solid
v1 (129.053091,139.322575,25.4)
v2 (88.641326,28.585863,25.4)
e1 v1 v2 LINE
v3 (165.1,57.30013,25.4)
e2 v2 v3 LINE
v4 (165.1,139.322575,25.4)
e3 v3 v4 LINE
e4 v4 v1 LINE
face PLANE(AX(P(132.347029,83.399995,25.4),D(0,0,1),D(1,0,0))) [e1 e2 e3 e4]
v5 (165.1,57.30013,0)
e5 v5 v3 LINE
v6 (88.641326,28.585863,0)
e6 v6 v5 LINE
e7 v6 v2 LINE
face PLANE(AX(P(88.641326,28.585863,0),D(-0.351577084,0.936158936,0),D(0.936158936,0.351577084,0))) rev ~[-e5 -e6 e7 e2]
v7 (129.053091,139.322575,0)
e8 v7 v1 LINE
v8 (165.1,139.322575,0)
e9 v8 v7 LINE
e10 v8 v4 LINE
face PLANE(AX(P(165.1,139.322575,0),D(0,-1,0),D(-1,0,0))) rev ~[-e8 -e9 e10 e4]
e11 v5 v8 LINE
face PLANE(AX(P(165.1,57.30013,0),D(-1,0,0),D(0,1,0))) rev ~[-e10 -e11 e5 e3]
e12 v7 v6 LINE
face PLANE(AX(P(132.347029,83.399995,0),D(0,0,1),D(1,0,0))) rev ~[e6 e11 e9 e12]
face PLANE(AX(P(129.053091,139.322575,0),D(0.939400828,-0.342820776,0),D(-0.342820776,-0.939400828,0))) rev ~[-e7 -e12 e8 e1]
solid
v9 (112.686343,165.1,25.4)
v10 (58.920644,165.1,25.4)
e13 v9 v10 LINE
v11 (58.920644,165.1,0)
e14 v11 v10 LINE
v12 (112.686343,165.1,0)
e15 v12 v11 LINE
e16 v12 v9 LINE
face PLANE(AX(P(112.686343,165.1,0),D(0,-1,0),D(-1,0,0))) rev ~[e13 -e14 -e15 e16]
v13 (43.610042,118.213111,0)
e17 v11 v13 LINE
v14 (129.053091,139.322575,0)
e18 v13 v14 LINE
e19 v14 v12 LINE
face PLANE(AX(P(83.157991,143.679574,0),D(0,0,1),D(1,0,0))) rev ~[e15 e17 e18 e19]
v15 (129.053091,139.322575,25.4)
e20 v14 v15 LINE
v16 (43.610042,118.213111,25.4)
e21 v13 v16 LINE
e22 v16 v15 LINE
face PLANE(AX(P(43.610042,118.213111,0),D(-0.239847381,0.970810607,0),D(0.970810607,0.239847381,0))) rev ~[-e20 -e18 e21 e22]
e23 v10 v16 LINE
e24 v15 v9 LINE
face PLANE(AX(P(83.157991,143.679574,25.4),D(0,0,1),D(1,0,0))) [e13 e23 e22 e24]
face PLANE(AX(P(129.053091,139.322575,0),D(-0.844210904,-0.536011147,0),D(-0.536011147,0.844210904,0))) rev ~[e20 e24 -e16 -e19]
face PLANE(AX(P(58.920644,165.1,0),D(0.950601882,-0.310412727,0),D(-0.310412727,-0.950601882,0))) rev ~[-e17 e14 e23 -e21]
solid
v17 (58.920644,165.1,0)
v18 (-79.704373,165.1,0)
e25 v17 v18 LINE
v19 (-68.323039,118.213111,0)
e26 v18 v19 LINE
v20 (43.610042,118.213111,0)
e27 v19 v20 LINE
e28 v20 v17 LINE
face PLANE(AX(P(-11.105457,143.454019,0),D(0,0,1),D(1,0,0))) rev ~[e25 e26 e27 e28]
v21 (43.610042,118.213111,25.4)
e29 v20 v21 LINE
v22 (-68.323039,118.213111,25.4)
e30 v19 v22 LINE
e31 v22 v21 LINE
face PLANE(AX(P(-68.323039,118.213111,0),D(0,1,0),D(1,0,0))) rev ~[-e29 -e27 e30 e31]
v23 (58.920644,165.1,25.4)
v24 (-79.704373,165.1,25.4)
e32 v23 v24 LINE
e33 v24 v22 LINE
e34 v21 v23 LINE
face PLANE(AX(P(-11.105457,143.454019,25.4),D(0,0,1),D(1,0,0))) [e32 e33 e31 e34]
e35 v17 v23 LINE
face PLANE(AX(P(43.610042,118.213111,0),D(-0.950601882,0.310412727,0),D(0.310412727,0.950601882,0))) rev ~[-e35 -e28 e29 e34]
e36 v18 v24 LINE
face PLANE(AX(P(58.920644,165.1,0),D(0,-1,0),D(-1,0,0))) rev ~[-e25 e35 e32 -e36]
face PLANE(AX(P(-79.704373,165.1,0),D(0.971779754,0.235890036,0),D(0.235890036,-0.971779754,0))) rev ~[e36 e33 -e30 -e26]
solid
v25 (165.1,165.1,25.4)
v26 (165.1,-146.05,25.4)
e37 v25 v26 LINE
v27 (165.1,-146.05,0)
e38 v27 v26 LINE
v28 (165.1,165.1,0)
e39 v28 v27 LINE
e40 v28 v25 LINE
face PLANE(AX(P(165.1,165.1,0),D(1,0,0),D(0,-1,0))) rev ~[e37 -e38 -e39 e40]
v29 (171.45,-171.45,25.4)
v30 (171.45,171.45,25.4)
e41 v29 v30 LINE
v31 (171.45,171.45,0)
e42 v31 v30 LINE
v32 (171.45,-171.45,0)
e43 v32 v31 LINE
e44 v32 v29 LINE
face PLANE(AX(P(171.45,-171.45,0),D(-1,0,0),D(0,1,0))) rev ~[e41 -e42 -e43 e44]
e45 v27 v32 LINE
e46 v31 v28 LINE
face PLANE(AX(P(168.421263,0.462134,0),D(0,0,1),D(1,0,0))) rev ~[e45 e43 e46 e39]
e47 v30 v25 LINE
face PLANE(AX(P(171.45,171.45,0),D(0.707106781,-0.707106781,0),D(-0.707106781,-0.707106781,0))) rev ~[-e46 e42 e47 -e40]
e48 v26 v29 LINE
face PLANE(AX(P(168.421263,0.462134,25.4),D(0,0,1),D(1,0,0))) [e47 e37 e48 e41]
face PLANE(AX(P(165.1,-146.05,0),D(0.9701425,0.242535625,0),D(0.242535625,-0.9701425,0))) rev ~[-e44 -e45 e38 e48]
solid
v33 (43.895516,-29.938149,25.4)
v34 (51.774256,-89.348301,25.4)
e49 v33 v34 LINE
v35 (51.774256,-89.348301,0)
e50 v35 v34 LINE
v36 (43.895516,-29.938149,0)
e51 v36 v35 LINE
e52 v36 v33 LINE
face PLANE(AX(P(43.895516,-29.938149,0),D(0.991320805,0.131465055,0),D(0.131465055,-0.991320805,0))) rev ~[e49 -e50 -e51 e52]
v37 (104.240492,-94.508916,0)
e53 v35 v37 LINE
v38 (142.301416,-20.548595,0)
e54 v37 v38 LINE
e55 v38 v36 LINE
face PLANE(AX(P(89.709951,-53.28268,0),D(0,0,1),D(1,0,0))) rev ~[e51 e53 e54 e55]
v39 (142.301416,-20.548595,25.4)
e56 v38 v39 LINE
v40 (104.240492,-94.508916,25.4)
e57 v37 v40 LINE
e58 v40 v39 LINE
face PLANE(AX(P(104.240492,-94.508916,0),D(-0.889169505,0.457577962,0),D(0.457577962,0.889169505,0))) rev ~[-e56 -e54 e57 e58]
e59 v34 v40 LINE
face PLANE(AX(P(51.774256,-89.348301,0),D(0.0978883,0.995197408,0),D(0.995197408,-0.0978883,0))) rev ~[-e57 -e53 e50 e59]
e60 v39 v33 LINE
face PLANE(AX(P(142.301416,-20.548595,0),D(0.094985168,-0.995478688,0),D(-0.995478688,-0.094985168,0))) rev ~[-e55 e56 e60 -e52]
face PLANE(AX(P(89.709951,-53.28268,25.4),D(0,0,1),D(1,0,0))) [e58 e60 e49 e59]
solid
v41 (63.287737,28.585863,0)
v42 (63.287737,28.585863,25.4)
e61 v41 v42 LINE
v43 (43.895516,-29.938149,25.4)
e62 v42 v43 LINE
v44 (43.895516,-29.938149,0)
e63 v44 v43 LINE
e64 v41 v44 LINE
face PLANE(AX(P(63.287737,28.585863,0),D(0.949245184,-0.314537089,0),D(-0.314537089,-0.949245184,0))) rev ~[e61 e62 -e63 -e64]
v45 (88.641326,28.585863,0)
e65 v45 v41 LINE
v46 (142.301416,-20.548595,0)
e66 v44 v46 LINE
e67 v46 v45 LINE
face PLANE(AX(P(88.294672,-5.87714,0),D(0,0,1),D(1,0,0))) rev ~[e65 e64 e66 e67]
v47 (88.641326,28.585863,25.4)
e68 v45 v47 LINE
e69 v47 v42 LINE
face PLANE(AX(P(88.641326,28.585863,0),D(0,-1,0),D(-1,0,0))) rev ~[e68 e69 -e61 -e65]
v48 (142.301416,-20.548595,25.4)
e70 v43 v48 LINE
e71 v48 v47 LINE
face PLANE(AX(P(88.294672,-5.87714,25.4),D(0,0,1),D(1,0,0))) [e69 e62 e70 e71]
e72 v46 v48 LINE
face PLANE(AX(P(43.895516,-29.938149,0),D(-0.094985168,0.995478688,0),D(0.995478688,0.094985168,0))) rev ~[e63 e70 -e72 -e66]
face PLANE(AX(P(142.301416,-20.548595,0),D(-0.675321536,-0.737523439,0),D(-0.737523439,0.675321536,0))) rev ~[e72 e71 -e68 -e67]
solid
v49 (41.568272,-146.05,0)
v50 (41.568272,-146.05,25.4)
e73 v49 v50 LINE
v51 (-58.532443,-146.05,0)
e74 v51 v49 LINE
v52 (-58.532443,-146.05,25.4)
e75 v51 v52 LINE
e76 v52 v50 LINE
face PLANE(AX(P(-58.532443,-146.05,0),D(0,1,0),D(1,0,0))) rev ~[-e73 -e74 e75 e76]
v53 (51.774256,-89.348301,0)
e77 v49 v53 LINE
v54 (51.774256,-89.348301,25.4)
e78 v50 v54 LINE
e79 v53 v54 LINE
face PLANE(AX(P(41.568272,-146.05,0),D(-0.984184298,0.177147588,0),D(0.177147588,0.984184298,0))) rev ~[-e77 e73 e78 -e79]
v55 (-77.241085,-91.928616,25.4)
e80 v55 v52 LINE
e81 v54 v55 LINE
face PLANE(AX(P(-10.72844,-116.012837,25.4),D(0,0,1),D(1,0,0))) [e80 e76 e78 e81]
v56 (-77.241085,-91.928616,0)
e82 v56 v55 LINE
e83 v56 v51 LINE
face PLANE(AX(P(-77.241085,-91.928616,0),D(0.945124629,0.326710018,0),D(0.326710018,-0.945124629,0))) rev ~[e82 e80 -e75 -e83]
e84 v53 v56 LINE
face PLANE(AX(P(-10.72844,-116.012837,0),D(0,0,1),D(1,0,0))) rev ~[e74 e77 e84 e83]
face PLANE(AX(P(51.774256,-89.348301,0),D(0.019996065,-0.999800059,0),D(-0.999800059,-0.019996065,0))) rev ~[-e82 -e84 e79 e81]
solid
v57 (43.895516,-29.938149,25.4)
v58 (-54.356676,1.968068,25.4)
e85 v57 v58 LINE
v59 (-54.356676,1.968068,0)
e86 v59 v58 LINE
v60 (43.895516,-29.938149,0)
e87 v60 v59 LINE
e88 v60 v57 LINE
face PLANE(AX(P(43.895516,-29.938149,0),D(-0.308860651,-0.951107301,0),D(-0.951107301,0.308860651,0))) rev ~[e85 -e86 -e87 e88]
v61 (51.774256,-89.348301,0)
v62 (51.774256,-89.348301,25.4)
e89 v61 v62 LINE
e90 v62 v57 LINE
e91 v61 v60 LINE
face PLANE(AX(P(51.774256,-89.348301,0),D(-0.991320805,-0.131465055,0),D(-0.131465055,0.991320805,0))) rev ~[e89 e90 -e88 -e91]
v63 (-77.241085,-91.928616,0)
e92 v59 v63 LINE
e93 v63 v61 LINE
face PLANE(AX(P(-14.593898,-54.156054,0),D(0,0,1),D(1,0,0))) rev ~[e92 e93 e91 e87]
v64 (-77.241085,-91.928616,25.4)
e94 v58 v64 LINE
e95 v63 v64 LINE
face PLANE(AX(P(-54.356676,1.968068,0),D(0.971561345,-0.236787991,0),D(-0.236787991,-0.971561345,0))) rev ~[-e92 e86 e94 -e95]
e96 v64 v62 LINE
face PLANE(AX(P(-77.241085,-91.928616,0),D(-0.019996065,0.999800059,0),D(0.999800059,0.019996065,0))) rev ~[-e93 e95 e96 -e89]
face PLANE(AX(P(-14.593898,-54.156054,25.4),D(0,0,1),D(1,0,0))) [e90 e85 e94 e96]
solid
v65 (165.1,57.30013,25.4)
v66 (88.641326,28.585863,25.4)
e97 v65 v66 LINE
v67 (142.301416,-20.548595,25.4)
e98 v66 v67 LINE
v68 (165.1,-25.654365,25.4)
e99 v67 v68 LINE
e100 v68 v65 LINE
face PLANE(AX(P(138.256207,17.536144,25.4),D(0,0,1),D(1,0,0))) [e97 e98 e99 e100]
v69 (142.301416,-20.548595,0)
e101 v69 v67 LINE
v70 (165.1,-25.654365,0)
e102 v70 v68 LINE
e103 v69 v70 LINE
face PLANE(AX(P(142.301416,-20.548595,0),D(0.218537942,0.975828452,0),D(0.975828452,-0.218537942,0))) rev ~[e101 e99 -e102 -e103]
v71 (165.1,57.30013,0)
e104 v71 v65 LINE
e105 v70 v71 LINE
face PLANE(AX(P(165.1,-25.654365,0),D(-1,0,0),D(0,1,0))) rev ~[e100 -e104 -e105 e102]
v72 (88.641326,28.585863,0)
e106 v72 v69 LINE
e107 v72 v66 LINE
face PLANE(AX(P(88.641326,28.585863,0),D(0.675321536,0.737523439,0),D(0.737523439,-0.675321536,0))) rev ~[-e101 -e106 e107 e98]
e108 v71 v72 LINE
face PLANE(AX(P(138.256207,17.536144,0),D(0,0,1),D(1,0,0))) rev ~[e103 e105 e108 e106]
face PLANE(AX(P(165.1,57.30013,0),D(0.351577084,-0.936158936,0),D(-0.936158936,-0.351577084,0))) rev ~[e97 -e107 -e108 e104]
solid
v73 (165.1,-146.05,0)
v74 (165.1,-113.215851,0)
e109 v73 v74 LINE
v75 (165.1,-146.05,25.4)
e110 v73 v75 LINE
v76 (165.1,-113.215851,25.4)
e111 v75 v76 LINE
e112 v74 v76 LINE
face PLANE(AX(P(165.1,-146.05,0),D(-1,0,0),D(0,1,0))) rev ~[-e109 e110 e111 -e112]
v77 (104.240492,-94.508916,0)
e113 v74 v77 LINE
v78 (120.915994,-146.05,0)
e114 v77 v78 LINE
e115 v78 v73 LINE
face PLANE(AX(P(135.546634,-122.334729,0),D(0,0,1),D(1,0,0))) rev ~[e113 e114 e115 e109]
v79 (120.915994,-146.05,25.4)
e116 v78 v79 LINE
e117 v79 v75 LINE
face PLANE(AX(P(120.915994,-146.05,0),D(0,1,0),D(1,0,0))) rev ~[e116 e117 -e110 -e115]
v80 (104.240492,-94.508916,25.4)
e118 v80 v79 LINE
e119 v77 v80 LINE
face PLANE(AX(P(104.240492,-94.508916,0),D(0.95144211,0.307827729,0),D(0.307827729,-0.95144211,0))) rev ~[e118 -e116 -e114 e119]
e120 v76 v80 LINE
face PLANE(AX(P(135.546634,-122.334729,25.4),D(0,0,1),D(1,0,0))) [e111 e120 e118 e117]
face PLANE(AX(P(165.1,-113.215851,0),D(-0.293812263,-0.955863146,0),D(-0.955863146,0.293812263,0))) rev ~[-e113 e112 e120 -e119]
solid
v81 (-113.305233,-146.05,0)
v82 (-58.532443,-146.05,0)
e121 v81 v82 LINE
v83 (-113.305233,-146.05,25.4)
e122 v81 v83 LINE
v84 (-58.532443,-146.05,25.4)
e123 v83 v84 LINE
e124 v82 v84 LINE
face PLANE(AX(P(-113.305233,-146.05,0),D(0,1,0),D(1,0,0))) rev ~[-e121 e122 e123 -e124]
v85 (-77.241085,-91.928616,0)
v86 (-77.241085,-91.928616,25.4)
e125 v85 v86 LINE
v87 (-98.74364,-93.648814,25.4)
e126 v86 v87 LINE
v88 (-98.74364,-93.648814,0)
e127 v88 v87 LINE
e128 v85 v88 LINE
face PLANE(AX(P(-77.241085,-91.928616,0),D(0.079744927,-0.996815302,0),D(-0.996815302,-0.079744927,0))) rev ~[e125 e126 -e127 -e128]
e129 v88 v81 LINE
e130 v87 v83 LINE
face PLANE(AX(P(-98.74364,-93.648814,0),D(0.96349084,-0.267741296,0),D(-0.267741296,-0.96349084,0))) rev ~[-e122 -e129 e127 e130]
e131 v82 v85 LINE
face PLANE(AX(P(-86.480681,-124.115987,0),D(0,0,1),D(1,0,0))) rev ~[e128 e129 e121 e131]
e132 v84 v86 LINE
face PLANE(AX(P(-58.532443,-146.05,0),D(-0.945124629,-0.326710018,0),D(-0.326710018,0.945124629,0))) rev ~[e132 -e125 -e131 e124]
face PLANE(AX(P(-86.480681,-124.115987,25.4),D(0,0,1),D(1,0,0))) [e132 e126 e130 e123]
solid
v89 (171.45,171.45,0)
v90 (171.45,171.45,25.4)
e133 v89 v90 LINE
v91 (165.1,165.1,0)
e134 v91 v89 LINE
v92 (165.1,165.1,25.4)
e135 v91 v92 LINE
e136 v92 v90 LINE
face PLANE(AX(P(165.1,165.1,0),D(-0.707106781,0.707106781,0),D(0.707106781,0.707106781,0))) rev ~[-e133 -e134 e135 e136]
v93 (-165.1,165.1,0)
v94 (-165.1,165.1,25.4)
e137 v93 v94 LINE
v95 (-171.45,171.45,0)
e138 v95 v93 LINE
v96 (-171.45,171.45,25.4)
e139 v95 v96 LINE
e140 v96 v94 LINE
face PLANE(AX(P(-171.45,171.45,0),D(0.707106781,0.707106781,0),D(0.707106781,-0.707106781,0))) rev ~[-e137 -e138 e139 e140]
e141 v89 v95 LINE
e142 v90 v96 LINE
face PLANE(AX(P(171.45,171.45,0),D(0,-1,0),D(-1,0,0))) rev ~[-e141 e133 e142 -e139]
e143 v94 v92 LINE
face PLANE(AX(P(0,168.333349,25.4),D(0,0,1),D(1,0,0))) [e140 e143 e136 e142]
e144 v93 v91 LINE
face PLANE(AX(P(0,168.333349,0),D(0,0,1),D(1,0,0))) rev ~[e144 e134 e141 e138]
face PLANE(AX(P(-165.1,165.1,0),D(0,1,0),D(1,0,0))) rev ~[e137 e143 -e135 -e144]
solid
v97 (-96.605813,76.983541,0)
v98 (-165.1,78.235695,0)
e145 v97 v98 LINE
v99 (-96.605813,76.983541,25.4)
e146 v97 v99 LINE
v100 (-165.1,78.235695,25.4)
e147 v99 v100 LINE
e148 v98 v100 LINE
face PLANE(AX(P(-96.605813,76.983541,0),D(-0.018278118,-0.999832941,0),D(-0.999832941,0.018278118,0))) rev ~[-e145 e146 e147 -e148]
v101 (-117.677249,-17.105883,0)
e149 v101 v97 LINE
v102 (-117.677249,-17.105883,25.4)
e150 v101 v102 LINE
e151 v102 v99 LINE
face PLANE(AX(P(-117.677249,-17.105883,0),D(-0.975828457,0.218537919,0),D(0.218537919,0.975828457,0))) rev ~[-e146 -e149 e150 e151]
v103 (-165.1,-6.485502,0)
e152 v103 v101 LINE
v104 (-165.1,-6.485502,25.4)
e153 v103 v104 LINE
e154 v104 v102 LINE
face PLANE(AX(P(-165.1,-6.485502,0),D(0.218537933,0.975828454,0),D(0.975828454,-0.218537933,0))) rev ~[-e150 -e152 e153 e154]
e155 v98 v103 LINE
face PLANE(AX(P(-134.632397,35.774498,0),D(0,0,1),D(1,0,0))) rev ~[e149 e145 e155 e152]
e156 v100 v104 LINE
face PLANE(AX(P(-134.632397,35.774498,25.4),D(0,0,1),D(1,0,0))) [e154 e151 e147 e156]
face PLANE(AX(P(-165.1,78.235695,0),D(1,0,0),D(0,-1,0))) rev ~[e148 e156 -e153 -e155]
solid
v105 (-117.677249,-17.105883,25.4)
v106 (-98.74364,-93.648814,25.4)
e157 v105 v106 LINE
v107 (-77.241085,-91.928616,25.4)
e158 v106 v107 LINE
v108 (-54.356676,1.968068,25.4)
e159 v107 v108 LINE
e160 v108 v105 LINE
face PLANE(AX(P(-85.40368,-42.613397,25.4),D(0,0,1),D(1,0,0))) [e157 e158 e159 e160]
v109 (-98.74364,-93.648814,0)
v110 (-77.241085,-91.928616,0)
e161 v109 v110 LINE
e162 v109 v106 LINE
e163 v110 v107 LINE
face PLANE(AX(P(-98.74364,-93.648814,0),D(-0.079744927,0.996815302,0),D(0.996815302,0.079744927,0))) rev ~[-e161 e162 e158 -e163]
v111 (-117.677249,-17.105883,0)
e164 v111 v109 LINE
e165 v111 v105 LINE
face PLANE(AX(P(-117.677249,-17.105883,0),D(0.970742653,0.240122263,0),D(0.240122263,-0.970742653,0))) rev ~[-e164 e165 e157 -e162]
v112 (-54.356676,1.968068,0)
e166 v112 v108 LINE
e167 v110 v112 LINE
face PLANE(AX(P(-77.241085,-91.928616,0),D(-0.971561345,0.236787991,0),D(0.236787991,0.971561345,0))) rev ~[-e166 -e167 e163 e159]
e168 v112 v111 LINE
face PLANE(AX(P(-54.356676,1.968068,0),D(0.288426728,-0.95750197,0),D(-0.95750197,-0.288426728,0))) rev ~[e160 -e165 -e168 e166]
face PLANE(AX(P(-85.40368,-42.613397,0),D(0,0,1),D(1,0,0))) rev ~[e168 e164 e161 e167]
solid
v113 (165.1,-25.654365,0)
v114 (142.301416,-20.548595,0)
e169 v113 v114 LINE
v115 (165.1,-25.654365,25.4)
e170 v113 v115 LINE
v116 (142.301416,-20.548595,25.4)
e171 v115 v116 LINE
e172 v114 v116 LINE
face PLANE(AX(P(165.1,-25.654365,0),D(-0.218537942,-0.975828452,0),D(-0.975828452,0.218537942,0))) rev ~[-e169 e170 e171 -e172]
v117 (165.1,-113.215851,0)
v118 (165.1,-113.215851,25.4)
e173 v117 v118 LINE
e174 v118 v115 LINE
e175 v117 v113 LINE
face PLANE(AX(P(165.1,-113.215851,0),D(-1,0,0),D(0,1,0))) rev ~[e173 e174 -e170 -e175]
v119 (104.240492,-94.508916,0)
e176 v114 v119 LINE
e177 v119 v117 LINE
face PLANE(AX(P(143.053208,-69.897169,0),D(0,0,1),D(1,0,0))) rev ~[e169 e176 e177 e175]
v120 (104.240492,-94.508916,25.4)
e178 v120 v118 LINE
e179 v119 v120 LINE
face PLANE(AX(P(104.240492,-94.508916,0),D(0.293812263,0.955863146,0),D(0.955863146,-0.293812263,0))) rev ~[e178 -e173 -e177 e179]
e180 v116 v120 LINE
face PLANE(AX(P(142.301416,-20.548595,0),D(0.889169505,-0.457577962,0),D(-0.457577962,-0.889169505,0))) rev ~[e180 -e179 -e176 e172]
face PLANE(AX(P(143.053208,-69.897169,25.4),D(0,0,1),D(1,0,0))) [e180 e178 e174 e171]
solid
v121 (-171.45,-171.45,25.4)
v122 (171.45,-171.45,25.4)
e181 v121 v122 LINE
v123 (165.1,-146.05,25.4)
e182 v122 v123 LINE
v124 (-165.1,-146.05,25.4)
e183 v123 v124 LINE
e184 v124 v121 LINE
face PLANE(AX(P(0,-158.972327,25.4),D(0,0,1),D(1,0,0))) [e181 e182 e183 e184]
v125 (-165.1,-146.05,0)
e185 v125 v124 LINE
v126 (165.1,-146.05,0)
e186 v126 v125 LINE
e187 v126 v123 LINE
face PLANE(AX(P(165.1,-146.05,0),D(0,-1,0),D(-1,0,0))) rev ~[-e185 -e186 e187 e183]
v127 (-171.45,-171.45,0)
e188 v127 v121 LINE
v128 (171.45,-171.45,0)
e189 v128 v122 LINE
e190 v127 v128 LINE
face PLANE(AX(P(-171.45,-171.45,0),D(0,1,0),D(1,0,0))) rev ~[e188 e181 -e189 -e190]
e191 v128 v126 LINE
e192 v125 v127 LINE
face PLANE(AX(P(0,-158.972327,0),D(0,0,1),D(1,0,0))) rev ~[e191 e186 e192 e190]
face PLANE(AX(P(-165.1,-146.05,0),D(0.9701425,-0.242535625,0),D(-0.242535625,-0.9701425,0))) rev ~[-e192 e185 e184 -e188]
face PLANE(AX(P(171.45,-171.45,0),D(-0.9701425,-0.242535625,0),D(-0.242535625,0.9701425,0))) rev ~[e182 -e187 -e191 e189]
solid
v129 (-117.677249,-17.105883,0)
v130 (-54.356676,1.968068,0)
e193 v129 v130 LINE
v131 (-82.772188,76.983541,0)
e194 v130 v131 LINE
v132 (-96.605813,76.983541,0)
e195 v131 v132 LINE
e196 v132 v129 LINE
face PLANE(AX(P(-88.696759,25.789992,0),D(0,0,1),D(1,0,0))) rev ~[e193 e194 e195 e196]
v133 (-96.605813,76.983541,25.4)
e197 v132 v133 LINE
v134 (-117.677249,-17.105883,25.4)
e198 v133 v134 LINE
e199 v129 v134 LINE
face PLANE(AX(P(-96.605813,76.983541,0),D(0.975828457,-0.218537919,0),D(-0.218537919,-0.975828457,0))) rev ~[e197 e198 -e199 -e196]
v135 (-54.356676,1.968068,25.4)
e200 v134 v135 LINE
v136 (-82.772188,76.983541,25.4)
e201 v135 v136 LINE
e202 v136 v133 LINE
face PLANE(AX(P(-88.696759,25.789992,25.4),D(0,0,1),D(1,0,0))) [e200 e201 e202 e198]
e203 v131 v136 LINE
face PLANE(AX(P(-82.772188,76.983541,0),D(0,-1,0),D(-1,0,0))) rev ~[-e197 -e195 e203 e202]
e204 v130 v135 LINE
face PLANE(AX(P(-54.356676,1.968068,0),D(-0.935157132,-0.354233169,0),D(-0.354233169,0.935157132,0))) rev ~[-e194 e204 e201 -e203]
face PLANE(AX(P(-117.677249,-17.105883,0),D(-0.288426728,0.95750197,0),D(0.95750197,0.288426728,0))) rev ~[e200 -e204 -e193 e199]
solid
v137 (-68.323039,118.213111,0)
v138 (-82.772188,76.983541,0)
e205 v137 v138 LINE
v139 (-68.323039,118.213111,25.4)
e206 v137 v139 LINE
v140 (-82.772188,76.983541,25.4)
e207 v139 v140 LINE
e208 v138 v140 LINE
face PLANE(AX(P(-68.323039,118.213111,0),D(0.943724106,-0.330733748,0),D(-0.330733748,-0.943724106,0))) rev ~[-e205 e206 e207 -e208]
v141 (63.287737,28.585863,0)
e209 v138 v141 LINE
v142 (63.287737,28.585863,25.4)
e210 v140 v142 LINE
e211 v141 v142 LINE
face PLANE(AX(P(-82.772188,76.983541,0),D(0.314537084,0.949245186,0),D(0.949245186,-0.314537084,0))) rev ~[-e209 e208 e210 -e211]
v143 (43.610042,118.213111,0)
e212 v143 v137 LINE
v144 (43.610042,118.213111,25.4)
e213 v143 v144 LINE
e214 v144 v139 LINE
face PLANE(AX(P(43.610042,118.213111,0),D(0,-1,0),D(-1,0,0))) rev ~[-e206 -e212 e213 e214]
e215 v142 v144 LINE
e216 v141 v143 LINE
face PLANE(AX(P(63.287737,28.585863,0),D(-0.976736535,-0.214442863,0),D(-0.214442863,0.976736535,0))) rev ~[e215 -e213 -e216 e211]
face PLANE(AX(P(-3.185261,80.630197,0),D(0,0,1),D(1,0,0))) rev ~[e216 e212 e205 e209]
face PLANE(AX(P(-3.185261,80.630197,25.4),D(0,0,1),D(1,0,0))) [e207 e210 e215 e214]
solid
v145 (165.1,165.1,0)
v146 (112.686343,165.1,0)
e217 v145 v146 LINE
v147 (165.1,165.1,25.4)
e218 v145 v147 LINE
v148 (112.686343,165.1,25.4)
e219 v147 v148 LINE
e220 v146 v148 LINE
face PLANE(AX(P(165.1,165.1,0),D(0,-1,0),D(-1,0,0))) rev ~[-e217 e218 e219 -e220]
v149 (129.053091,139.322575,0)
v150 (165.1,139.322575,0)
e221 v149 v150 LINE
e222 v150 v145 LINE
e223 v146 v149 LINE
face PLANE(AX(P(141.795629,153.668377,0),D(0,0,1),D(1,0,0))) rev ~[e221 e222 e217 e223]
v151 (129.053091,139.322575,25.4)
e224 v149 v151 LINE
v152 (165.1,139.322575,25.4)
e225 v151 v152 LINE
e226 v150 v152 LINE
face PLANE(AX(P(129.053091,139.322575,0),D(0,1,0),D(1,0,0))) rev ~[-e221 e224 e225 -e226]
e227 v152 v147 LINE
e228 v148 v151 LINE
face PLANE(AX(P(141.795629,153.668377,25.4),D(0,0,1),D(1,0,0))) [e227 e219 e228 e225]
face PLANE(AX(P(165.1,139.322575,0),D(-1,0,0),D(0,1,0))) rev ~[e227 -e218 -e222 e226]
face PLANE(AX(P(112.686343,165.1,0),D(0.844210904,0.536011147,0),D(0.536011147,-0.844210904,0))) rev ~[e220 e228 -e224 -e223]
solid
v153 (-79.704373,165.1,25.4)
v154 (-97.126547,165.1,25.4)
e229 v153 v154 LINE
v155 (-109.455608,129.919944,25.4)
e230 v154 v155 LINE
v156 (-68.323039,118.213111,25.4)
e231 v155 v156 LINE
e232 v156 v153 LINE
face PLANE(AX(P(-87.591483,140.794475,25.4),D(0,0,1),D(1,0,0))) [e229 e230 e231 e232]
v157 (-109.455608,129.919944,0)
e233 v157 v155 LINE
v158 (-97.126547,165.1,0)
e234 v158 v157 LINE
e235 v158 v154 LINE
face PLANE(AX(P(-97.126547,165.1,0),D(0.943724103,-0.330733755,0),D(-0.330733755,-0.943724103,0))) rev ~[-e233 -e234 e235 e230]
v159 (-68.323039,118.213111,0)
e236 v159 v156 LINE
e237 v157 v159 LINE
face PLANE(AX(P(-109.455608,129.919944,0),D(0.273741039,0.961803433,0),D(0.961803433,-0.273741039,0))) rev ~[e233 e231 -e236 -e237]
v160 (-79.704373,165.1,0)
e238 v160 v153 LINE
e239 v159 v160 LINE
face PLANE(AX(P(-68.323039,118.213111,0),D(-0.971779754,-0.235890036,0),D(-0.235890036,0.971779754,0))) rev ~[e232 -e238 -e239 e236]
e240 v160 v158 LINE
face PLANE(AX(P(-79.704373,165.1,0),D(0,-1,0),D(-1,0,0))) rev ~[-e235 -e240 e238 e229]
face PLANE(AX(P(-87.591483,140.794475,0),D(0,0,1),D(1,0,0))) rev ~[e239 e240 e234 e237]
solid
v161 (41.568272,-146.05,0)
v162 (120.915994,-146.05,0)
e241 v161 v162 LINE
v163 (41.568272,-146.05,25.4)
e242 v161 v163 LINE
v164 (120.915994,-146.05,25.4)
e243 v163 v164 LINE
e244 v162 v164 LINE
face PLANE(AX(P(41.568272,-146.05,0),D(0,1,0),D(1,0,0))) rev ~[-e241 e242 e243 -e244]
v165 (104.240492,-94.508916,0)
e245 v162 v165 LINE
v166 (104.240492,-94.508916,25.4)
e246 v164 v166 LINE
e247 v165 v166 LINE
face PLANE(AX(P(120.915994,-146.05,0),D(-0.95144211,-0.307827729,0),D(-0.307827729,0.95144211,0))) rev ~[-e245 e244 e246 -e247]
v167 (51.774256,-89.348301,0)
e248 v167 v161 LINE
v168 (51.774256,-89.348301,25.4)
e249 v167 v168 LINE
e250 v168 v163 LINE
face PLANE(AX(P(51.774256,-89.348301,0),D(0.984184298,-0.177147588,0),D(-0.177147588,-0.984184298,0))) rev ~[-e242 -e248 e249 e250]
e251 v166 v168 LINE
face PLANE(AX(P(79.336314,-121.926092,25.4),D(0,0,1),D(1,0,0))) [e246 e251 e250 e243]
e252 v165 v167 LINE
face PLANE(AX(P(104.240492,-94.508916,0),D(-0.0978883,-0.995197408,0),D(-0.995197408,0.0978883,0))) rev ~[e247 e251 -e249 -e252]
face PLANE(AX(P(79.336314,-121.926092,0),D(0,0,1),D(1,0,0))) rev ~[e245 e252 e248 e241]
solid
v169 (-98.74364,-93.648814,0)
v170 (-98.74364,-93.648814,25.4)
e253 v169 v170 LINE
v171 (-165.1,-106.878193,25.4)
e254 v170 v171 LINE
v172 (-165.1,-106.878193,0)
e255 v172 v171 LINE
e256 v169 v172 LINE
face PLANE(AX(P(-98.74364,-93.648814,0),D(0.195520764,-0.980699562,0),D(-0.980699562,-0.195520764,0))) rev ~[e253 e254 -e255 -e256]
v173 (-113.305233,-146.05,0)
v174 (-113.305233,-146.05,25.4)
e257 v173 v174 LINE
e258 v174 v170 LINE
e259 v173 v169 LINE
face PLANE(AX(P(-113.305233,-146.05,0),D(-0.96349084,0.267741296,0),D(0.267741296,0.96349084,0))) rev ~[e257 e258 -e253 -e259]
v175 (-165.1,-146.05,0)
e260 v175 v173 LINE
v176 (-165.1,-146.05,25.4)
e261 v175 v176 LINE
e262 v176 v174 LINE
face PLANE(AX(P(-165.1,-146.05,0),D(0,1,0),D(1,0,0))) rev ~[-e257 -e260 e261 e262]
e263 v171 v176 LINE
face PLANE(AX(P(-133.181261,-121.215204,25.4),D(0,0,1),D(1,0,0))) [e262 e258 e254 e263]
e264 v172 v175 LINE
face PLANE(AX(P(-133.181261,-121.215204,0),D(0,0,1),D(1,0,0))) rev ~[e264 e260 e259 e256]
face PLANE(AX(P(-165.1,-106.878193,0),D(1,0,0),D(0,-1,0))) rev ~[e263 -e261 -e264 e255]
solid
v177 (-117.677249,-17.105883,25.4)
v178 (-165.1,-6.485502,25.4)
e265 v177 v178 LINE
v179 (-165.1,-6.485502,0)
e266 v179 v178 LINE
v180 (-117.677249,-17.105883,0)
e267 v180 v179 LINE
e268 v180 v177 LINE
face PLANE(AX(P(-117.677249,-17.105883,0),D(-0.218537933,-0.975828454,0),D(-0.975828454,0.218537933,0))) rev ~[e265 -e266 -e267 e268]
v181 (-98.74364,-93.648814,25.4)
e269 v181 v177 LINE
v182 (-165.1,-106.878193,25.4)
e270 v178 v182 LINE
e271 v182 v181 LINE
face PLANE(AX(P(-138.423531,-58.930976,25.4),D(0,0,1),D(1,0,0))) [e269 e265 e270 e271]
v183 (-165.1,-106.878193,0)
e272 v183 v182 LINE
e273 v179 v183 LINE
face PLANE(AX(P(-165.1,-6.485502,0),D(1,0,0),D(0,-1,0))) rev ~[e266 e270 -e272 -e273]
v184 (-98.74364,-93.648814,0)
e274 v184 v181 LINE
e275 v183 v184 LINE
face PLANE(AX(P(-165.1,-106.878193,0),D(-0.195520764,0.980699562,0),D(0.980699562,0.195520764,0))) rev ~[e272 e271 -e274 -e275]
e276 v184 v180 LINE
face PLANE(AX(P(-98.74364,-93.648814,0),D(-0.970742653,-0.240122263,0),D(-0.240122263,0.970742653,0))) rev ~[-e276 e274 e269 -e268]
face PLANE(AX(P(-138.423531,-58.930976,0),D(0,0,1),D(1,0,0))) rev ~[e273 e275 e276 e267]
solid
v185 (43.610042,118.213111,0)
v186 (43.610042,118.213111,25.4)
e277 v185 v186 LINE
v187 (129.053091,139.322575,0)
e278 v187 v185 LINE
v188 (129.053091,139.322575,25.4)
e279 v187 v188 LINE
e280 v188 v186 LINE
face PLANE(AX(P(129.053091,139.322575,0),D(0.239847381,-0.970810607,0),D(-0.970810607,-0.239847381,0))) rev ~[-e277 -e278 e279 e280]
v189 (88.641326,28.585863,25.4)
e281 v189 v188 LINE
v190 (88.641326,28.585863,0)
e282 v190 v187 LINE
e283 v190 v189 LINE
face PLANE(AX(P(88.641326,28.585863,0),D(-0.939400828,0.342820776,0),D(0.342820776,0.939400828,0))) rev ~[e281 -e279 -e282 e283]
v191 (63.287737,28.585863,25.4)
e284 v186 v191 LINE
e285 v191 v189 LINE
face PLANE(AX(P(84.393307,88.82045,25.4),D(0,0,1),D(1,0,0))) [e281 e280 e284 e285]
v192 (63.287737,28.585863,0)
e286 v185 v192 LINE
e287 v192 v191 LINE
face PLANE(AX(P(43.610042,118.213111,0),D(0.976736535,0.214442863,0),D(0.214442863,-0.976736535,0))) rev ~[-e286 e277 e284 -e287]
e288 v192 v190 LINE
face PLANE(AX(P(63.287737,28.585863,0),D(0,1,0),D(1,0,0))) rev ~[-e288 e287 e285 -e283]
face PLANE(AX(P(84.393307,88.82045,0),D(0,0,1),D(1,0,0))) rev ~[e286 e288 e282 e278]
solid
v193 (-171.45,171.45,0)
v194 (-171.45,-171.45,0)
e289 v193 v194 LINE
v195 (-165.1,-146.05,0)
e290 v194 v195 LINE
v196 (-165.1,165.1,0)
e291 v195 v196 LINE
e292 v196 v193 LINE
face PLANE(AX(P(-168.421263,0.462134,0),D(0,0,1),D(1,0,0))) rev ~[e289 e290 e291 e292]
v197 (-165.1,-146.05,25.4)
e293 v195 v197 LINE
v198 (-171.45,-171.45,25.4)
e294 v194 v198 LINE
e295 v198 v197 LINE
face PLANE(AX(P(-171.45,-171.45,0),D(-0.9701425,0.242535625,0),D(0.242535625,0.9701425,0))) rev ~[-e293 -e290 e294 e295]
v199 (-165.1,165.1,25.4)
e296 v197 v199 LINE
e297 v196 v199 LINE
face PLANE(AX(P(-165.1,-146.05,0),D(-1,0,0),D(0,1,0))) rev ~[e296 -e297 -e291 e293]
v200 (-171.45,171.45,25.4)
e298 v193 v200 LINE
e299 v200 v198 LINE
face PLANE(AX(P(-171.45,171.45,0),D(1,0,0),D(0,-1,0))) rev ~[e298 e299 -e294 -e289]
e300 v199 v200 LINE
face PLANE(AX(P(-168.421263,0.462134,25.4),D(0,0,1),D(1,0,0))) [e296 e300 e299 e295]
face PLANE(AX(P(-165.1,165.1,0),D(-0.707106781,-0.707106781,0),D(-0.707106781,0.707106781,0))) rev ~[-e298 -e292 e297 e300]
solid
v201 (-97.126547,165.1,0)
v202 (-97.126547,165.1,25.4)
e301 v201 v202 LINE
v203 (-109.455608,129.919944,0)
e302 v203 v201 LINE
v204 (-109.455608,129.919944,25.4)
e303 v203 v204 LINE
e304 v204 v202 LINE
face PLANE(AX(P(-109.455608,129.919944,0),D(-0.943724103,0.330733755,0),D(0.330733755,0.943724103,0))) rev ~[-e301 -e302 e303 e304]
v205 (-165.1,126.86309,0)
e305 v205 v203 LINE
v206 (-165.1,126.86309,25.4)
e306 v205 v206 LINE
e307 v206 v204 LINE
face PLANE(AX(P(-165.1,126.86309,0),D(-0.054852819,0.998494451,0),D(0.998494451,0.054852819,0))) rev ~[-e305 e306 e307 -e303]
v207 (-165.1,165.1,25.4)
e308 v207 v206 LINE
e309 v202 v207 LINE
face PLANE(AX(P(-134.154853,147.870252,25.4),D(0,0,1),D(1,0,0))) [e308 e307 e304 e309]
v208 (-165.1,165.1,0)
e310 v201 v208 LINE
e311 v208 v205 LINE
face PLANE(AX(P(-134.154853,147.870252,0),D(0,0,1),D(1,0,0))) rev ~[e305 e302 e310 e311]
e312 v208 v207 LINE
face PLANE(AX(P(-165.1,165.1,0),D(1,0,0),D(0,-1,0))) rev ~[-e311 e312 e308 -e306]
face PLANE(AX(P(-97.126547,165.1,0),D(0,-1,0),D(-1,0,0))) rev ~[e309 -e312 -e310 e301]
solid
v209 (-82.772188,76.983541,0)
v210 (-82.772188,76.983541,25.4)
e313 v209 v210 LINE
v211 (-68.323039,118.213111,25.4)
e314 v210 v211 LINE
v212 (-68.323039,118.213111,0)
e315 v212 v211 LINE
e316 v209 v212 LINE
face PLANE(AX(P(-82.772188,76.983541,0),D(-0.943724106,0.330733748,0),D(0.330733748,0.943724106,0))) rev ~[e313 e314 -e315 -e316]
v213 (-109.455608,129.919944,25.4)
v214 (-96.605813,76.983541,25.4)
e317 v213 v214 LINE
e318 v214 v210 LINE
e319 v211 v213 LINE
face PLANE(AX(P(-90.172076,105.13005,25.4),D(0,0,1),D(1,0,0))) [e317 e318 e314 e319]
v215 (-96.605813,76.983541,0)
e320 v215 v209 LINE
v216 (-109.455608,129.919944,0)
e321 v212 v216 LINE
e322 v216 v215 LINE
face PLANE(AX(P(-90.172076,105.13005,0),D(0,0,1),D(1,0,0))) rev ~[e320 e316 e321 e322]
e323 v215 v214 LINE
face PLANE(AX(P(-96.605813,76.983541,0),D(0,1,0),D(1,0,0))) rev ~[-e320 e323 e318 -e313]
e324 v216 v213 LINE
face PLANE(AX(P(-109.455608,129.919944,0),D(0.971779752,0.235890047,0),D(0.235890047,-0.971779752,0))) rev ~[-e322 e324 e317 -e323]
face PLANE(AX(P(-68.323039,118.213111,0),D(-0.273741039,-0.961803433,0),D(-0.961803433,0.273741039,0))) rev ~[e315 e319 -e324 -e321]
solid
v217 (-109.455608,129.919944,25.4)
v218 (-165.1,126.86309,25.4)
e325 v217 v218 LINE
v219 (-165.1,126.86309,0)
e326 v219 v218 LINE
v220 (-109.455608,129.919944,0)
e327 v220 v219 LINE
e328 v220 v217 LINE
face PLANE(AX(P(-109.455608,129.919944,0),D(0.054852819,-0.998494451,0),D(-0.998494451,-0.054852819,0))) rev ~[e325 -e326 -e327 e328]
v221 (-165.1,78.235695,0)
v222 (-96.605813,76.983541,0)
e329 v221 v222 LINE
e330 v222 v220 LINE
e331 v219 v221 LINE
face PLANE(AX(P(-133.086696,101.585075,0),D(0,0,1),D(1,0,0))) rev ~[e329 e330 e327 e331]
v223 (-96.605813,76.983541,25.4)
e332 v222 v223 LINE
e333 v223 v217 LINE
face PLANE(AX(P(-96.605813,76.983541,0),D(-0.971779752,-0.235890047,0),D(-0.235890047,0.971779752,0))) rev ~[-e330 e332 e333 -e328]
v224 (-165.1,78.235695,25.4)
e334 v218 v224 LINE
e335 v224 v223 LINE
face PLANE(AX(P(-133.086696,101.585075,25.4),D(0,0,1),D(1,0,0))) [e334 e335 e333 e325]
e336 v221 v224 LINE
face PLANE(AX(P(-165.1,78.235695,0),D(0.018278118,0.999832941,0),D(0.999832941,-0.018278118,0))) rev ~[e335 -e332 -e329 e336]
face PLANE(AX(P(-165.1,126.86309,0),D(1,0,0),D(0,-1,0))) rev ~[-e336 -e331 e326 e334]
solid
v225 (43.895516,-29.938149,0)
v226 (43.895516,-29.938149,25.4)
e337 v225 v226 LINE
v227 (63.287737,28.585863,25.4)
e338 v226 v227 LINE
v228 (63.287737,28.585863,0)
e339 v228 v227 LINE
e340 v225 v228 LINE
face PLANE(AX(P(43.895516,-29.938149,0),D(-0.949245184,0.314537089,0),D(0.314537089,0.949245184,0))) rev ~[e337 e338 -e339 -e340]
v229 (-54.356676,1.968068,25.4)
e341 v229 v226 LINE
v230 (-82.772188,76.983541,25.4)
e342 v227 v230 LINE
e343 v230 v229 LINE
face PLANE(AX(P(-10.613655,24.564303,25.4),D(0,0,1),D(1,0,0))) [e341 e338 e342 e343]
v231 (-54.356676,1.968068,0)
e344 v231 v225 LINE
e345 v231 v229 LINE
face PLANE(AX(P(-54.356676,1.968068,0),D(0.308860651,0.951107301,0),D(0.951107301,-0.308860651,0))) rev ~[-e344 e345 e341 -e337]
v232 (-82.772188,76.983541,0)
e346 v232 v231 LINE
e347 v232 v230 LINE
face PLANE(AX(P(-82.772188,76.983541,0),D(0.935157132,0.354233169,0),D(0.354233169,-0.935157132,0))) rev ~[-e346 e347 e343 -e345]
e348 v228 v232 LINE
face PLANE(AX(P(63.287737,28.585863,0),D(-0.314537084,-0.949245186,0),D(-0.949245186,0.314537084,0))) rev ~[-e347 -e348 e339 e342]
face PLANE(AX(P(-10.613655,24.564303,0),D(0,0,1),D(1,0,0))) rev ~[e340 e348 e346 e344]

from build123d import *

# Parameters (mm, degrees)
F1_DEPTH = 25.4
F2_DEPTH = 25.4
F3_DEPTH = 25.4
F4_DEPTH = 25.4
F5_DEPTH = 25.4


with BuildPart() as f1:
    # F0 (on Top) → F1 (new body)
    with BuildSketch(Plane.XY):
        Polygon((165.1, 165.1), (171.45, 171.45), (-171.45, 171.45), (-165.1, 165.1), (-97.126547, 165.1), (-79.704373, 165.1), (58.920644, 165.1), (112.686343, 165.1), align=None)
        Polygon((-171.45, -171.45), (171.45, -171.45), (165.1, -146.05), (120.915994, -146.05), (41.568272, -146.05), (-58.532443, -146.05), (-113.305233, -146.05), (-165.1, -146.05), align=None)
    extrude(amount=F1_DEPTH)


with BuildPart() as f2:
    # F0 (on Top) → F2 (new body)
    with BuildSketch(Plane.XY):
        Polygon((-165.1, 165.1), (-171.45, 171.45), (-171.45, -171.45), (-165.1, -146.05), (-165.1, -106.878193), (-165.1, -6.485502), (-165.1, 78.235695), (-165.1, 126.86309), align=None)
        Polygon((171.45, -171.45), (171.45, 171.45), (165.1, 165.1), (165.1, 139.322575), (165.1, 57.30013), (165.1, -25.654365), (165.1, -113.215851), (165.1, -146.05), align=None)
    extrude(amount=F2_DEPTH)


with BuildPart() as f3:
    # F0 (on Top) → F3 (new body)
    with BuildSketch(Plane.XY):
        Polygon((-79.704373, 165.1), (-97.126547, 165.1), (-109.455608, 129.919944), (-68.323039, 118.213111), align=None)
        Polygon((-82.772188, 76.983541), (-96.605813, 76.983541), (-117.677249, -17.105883), (-54.356676, 1.968068), align=None)
        Polygon((-98.74364, -93.648814), (-113.305233, -146.05), (-58.532443, -146.05), (-77.241085, -91.928616), align=None)
        Polygon((129.053091, 139.322575), (112.686343, 165.1), (58.920644, 165.1), (43.610042, 118.213111), align=None)
        Polygon((142.301416, -20.548595), (88.641326, 28.585863), (63.287737, 28.585863), (43.895516, -29.938149), align=None)
        Polygon((41.568272, -146.05), (120.915994, -146.05), (104.240492, -94.508916), (51.774256, -89.348301), align=None)
    extrude(amount=F3_DEPTH)


with BuildPart() as f4:
    # F0 (on Top) → F4 (new body)
    with BuildSketch(Plane.XY):
        Polygon((-68.323039, 118.213111), (-109.455608, 129.919944), (-96.605813, 76.983541), (-82.772188, 76.983541), align=None)
        Polygon((-117.677249, -17.105883), (-98.74364, -93.648814), (-77.241085, -91.928616), (-54.356676, 1.968068), align=None)
        Polygon((51.774256, -89.348301), (104.240492, -94.508916), (142.301416, -20.548595), (43.895516, -29.938149), align=None)
        Polygon((88.641326, 28.585863), (129.053091, 139.322575), (43.610042, 118.213111), (63.287737, 28.585863), align=None)
        Polygon((43.610042, 118.213111), (58.920644, 165.1), (-79.704373, 165.1), (-68.323039, 118.213111), align=None)
        Polygon((-97.126547, 165.1), (-165.1, 165.1), (-165.1, 126.86309), (-109.455608, 129.919944), align=None)
        Polygon((43.895516, -29.938149), (63.287737, 28.585863), (-82.772188, 76.983541), (-54.356676, 1.968068), align=None)
        Polygon((165.1, -25.654365), (165.1, 57.30013), (88.641326, 28.585863), (142.301416, -20.548595), align=None)
        Polygon((165.1, 139.322575), (165.1, 165.1), (112.686343, 165.1), (129.053091, 139.322575), align=None)
        Polygon((120.915994, -146.05), (165.1, -146.05), (165.1, -113.215851), (104.240492, -94.508916), align=None)
        Polygon((-58.532443, -146.05), (41.568272, -146.05), (51.774256, -89.348301), (-77.241085, -91.928616), align=None)
        Polygon((-96.605813, 76.983541), (-165.1, 78.235695), (-165.1, -6.485502), (-117.677249, -17.105883), align=None)
        Polygon((-165.1, -106.878193), (-165.1, -146.05), (-113.305233, -146.05), (-98.74364, -93.648814), align=None)
    extrude(amount=F4_DEPTH)


with BuildPart() as f5:
    # F0 (on Top) → F5 (new body)
    with BuildSketch(Plane.XY):
        Polygon((-109.455608, 129.919944), (-165.1, 126.86309), (-165.1, 78.235695), (-96.605813, 76.983541), align=None)
        Polygon((63.287737, 28.585863), (43.610042, 118.213111), (-68.323039, 118.213111), (-82.772188, 76.983541), align=None)
        Polygon((165.1, 57.30013), (165.1, 139.322575), (129.053091, 139.322575), (88.641326, 28.585863), align=None)
        Polygon((104.240492, -94.508916), (165.1, -113.215851), (165.1, -25.654365), (142.301416, -20.548595), align=None)
        Polygon((-77.241085, -91.928616), (51.774256, -89.348301), (43.895516, -29.938149), (-54.356676, 1.968068), align=None)
        Polygon((-165.1, -6.485502), (-165.1, -106.878193), (-98.74364, -93.648814), (-117.677249, -17.105883), align=None)
    extrude(amount=F5_DEPTH)


solid = Compound([f1.part, f2.part, f3.part, f4.part, f5.part])
